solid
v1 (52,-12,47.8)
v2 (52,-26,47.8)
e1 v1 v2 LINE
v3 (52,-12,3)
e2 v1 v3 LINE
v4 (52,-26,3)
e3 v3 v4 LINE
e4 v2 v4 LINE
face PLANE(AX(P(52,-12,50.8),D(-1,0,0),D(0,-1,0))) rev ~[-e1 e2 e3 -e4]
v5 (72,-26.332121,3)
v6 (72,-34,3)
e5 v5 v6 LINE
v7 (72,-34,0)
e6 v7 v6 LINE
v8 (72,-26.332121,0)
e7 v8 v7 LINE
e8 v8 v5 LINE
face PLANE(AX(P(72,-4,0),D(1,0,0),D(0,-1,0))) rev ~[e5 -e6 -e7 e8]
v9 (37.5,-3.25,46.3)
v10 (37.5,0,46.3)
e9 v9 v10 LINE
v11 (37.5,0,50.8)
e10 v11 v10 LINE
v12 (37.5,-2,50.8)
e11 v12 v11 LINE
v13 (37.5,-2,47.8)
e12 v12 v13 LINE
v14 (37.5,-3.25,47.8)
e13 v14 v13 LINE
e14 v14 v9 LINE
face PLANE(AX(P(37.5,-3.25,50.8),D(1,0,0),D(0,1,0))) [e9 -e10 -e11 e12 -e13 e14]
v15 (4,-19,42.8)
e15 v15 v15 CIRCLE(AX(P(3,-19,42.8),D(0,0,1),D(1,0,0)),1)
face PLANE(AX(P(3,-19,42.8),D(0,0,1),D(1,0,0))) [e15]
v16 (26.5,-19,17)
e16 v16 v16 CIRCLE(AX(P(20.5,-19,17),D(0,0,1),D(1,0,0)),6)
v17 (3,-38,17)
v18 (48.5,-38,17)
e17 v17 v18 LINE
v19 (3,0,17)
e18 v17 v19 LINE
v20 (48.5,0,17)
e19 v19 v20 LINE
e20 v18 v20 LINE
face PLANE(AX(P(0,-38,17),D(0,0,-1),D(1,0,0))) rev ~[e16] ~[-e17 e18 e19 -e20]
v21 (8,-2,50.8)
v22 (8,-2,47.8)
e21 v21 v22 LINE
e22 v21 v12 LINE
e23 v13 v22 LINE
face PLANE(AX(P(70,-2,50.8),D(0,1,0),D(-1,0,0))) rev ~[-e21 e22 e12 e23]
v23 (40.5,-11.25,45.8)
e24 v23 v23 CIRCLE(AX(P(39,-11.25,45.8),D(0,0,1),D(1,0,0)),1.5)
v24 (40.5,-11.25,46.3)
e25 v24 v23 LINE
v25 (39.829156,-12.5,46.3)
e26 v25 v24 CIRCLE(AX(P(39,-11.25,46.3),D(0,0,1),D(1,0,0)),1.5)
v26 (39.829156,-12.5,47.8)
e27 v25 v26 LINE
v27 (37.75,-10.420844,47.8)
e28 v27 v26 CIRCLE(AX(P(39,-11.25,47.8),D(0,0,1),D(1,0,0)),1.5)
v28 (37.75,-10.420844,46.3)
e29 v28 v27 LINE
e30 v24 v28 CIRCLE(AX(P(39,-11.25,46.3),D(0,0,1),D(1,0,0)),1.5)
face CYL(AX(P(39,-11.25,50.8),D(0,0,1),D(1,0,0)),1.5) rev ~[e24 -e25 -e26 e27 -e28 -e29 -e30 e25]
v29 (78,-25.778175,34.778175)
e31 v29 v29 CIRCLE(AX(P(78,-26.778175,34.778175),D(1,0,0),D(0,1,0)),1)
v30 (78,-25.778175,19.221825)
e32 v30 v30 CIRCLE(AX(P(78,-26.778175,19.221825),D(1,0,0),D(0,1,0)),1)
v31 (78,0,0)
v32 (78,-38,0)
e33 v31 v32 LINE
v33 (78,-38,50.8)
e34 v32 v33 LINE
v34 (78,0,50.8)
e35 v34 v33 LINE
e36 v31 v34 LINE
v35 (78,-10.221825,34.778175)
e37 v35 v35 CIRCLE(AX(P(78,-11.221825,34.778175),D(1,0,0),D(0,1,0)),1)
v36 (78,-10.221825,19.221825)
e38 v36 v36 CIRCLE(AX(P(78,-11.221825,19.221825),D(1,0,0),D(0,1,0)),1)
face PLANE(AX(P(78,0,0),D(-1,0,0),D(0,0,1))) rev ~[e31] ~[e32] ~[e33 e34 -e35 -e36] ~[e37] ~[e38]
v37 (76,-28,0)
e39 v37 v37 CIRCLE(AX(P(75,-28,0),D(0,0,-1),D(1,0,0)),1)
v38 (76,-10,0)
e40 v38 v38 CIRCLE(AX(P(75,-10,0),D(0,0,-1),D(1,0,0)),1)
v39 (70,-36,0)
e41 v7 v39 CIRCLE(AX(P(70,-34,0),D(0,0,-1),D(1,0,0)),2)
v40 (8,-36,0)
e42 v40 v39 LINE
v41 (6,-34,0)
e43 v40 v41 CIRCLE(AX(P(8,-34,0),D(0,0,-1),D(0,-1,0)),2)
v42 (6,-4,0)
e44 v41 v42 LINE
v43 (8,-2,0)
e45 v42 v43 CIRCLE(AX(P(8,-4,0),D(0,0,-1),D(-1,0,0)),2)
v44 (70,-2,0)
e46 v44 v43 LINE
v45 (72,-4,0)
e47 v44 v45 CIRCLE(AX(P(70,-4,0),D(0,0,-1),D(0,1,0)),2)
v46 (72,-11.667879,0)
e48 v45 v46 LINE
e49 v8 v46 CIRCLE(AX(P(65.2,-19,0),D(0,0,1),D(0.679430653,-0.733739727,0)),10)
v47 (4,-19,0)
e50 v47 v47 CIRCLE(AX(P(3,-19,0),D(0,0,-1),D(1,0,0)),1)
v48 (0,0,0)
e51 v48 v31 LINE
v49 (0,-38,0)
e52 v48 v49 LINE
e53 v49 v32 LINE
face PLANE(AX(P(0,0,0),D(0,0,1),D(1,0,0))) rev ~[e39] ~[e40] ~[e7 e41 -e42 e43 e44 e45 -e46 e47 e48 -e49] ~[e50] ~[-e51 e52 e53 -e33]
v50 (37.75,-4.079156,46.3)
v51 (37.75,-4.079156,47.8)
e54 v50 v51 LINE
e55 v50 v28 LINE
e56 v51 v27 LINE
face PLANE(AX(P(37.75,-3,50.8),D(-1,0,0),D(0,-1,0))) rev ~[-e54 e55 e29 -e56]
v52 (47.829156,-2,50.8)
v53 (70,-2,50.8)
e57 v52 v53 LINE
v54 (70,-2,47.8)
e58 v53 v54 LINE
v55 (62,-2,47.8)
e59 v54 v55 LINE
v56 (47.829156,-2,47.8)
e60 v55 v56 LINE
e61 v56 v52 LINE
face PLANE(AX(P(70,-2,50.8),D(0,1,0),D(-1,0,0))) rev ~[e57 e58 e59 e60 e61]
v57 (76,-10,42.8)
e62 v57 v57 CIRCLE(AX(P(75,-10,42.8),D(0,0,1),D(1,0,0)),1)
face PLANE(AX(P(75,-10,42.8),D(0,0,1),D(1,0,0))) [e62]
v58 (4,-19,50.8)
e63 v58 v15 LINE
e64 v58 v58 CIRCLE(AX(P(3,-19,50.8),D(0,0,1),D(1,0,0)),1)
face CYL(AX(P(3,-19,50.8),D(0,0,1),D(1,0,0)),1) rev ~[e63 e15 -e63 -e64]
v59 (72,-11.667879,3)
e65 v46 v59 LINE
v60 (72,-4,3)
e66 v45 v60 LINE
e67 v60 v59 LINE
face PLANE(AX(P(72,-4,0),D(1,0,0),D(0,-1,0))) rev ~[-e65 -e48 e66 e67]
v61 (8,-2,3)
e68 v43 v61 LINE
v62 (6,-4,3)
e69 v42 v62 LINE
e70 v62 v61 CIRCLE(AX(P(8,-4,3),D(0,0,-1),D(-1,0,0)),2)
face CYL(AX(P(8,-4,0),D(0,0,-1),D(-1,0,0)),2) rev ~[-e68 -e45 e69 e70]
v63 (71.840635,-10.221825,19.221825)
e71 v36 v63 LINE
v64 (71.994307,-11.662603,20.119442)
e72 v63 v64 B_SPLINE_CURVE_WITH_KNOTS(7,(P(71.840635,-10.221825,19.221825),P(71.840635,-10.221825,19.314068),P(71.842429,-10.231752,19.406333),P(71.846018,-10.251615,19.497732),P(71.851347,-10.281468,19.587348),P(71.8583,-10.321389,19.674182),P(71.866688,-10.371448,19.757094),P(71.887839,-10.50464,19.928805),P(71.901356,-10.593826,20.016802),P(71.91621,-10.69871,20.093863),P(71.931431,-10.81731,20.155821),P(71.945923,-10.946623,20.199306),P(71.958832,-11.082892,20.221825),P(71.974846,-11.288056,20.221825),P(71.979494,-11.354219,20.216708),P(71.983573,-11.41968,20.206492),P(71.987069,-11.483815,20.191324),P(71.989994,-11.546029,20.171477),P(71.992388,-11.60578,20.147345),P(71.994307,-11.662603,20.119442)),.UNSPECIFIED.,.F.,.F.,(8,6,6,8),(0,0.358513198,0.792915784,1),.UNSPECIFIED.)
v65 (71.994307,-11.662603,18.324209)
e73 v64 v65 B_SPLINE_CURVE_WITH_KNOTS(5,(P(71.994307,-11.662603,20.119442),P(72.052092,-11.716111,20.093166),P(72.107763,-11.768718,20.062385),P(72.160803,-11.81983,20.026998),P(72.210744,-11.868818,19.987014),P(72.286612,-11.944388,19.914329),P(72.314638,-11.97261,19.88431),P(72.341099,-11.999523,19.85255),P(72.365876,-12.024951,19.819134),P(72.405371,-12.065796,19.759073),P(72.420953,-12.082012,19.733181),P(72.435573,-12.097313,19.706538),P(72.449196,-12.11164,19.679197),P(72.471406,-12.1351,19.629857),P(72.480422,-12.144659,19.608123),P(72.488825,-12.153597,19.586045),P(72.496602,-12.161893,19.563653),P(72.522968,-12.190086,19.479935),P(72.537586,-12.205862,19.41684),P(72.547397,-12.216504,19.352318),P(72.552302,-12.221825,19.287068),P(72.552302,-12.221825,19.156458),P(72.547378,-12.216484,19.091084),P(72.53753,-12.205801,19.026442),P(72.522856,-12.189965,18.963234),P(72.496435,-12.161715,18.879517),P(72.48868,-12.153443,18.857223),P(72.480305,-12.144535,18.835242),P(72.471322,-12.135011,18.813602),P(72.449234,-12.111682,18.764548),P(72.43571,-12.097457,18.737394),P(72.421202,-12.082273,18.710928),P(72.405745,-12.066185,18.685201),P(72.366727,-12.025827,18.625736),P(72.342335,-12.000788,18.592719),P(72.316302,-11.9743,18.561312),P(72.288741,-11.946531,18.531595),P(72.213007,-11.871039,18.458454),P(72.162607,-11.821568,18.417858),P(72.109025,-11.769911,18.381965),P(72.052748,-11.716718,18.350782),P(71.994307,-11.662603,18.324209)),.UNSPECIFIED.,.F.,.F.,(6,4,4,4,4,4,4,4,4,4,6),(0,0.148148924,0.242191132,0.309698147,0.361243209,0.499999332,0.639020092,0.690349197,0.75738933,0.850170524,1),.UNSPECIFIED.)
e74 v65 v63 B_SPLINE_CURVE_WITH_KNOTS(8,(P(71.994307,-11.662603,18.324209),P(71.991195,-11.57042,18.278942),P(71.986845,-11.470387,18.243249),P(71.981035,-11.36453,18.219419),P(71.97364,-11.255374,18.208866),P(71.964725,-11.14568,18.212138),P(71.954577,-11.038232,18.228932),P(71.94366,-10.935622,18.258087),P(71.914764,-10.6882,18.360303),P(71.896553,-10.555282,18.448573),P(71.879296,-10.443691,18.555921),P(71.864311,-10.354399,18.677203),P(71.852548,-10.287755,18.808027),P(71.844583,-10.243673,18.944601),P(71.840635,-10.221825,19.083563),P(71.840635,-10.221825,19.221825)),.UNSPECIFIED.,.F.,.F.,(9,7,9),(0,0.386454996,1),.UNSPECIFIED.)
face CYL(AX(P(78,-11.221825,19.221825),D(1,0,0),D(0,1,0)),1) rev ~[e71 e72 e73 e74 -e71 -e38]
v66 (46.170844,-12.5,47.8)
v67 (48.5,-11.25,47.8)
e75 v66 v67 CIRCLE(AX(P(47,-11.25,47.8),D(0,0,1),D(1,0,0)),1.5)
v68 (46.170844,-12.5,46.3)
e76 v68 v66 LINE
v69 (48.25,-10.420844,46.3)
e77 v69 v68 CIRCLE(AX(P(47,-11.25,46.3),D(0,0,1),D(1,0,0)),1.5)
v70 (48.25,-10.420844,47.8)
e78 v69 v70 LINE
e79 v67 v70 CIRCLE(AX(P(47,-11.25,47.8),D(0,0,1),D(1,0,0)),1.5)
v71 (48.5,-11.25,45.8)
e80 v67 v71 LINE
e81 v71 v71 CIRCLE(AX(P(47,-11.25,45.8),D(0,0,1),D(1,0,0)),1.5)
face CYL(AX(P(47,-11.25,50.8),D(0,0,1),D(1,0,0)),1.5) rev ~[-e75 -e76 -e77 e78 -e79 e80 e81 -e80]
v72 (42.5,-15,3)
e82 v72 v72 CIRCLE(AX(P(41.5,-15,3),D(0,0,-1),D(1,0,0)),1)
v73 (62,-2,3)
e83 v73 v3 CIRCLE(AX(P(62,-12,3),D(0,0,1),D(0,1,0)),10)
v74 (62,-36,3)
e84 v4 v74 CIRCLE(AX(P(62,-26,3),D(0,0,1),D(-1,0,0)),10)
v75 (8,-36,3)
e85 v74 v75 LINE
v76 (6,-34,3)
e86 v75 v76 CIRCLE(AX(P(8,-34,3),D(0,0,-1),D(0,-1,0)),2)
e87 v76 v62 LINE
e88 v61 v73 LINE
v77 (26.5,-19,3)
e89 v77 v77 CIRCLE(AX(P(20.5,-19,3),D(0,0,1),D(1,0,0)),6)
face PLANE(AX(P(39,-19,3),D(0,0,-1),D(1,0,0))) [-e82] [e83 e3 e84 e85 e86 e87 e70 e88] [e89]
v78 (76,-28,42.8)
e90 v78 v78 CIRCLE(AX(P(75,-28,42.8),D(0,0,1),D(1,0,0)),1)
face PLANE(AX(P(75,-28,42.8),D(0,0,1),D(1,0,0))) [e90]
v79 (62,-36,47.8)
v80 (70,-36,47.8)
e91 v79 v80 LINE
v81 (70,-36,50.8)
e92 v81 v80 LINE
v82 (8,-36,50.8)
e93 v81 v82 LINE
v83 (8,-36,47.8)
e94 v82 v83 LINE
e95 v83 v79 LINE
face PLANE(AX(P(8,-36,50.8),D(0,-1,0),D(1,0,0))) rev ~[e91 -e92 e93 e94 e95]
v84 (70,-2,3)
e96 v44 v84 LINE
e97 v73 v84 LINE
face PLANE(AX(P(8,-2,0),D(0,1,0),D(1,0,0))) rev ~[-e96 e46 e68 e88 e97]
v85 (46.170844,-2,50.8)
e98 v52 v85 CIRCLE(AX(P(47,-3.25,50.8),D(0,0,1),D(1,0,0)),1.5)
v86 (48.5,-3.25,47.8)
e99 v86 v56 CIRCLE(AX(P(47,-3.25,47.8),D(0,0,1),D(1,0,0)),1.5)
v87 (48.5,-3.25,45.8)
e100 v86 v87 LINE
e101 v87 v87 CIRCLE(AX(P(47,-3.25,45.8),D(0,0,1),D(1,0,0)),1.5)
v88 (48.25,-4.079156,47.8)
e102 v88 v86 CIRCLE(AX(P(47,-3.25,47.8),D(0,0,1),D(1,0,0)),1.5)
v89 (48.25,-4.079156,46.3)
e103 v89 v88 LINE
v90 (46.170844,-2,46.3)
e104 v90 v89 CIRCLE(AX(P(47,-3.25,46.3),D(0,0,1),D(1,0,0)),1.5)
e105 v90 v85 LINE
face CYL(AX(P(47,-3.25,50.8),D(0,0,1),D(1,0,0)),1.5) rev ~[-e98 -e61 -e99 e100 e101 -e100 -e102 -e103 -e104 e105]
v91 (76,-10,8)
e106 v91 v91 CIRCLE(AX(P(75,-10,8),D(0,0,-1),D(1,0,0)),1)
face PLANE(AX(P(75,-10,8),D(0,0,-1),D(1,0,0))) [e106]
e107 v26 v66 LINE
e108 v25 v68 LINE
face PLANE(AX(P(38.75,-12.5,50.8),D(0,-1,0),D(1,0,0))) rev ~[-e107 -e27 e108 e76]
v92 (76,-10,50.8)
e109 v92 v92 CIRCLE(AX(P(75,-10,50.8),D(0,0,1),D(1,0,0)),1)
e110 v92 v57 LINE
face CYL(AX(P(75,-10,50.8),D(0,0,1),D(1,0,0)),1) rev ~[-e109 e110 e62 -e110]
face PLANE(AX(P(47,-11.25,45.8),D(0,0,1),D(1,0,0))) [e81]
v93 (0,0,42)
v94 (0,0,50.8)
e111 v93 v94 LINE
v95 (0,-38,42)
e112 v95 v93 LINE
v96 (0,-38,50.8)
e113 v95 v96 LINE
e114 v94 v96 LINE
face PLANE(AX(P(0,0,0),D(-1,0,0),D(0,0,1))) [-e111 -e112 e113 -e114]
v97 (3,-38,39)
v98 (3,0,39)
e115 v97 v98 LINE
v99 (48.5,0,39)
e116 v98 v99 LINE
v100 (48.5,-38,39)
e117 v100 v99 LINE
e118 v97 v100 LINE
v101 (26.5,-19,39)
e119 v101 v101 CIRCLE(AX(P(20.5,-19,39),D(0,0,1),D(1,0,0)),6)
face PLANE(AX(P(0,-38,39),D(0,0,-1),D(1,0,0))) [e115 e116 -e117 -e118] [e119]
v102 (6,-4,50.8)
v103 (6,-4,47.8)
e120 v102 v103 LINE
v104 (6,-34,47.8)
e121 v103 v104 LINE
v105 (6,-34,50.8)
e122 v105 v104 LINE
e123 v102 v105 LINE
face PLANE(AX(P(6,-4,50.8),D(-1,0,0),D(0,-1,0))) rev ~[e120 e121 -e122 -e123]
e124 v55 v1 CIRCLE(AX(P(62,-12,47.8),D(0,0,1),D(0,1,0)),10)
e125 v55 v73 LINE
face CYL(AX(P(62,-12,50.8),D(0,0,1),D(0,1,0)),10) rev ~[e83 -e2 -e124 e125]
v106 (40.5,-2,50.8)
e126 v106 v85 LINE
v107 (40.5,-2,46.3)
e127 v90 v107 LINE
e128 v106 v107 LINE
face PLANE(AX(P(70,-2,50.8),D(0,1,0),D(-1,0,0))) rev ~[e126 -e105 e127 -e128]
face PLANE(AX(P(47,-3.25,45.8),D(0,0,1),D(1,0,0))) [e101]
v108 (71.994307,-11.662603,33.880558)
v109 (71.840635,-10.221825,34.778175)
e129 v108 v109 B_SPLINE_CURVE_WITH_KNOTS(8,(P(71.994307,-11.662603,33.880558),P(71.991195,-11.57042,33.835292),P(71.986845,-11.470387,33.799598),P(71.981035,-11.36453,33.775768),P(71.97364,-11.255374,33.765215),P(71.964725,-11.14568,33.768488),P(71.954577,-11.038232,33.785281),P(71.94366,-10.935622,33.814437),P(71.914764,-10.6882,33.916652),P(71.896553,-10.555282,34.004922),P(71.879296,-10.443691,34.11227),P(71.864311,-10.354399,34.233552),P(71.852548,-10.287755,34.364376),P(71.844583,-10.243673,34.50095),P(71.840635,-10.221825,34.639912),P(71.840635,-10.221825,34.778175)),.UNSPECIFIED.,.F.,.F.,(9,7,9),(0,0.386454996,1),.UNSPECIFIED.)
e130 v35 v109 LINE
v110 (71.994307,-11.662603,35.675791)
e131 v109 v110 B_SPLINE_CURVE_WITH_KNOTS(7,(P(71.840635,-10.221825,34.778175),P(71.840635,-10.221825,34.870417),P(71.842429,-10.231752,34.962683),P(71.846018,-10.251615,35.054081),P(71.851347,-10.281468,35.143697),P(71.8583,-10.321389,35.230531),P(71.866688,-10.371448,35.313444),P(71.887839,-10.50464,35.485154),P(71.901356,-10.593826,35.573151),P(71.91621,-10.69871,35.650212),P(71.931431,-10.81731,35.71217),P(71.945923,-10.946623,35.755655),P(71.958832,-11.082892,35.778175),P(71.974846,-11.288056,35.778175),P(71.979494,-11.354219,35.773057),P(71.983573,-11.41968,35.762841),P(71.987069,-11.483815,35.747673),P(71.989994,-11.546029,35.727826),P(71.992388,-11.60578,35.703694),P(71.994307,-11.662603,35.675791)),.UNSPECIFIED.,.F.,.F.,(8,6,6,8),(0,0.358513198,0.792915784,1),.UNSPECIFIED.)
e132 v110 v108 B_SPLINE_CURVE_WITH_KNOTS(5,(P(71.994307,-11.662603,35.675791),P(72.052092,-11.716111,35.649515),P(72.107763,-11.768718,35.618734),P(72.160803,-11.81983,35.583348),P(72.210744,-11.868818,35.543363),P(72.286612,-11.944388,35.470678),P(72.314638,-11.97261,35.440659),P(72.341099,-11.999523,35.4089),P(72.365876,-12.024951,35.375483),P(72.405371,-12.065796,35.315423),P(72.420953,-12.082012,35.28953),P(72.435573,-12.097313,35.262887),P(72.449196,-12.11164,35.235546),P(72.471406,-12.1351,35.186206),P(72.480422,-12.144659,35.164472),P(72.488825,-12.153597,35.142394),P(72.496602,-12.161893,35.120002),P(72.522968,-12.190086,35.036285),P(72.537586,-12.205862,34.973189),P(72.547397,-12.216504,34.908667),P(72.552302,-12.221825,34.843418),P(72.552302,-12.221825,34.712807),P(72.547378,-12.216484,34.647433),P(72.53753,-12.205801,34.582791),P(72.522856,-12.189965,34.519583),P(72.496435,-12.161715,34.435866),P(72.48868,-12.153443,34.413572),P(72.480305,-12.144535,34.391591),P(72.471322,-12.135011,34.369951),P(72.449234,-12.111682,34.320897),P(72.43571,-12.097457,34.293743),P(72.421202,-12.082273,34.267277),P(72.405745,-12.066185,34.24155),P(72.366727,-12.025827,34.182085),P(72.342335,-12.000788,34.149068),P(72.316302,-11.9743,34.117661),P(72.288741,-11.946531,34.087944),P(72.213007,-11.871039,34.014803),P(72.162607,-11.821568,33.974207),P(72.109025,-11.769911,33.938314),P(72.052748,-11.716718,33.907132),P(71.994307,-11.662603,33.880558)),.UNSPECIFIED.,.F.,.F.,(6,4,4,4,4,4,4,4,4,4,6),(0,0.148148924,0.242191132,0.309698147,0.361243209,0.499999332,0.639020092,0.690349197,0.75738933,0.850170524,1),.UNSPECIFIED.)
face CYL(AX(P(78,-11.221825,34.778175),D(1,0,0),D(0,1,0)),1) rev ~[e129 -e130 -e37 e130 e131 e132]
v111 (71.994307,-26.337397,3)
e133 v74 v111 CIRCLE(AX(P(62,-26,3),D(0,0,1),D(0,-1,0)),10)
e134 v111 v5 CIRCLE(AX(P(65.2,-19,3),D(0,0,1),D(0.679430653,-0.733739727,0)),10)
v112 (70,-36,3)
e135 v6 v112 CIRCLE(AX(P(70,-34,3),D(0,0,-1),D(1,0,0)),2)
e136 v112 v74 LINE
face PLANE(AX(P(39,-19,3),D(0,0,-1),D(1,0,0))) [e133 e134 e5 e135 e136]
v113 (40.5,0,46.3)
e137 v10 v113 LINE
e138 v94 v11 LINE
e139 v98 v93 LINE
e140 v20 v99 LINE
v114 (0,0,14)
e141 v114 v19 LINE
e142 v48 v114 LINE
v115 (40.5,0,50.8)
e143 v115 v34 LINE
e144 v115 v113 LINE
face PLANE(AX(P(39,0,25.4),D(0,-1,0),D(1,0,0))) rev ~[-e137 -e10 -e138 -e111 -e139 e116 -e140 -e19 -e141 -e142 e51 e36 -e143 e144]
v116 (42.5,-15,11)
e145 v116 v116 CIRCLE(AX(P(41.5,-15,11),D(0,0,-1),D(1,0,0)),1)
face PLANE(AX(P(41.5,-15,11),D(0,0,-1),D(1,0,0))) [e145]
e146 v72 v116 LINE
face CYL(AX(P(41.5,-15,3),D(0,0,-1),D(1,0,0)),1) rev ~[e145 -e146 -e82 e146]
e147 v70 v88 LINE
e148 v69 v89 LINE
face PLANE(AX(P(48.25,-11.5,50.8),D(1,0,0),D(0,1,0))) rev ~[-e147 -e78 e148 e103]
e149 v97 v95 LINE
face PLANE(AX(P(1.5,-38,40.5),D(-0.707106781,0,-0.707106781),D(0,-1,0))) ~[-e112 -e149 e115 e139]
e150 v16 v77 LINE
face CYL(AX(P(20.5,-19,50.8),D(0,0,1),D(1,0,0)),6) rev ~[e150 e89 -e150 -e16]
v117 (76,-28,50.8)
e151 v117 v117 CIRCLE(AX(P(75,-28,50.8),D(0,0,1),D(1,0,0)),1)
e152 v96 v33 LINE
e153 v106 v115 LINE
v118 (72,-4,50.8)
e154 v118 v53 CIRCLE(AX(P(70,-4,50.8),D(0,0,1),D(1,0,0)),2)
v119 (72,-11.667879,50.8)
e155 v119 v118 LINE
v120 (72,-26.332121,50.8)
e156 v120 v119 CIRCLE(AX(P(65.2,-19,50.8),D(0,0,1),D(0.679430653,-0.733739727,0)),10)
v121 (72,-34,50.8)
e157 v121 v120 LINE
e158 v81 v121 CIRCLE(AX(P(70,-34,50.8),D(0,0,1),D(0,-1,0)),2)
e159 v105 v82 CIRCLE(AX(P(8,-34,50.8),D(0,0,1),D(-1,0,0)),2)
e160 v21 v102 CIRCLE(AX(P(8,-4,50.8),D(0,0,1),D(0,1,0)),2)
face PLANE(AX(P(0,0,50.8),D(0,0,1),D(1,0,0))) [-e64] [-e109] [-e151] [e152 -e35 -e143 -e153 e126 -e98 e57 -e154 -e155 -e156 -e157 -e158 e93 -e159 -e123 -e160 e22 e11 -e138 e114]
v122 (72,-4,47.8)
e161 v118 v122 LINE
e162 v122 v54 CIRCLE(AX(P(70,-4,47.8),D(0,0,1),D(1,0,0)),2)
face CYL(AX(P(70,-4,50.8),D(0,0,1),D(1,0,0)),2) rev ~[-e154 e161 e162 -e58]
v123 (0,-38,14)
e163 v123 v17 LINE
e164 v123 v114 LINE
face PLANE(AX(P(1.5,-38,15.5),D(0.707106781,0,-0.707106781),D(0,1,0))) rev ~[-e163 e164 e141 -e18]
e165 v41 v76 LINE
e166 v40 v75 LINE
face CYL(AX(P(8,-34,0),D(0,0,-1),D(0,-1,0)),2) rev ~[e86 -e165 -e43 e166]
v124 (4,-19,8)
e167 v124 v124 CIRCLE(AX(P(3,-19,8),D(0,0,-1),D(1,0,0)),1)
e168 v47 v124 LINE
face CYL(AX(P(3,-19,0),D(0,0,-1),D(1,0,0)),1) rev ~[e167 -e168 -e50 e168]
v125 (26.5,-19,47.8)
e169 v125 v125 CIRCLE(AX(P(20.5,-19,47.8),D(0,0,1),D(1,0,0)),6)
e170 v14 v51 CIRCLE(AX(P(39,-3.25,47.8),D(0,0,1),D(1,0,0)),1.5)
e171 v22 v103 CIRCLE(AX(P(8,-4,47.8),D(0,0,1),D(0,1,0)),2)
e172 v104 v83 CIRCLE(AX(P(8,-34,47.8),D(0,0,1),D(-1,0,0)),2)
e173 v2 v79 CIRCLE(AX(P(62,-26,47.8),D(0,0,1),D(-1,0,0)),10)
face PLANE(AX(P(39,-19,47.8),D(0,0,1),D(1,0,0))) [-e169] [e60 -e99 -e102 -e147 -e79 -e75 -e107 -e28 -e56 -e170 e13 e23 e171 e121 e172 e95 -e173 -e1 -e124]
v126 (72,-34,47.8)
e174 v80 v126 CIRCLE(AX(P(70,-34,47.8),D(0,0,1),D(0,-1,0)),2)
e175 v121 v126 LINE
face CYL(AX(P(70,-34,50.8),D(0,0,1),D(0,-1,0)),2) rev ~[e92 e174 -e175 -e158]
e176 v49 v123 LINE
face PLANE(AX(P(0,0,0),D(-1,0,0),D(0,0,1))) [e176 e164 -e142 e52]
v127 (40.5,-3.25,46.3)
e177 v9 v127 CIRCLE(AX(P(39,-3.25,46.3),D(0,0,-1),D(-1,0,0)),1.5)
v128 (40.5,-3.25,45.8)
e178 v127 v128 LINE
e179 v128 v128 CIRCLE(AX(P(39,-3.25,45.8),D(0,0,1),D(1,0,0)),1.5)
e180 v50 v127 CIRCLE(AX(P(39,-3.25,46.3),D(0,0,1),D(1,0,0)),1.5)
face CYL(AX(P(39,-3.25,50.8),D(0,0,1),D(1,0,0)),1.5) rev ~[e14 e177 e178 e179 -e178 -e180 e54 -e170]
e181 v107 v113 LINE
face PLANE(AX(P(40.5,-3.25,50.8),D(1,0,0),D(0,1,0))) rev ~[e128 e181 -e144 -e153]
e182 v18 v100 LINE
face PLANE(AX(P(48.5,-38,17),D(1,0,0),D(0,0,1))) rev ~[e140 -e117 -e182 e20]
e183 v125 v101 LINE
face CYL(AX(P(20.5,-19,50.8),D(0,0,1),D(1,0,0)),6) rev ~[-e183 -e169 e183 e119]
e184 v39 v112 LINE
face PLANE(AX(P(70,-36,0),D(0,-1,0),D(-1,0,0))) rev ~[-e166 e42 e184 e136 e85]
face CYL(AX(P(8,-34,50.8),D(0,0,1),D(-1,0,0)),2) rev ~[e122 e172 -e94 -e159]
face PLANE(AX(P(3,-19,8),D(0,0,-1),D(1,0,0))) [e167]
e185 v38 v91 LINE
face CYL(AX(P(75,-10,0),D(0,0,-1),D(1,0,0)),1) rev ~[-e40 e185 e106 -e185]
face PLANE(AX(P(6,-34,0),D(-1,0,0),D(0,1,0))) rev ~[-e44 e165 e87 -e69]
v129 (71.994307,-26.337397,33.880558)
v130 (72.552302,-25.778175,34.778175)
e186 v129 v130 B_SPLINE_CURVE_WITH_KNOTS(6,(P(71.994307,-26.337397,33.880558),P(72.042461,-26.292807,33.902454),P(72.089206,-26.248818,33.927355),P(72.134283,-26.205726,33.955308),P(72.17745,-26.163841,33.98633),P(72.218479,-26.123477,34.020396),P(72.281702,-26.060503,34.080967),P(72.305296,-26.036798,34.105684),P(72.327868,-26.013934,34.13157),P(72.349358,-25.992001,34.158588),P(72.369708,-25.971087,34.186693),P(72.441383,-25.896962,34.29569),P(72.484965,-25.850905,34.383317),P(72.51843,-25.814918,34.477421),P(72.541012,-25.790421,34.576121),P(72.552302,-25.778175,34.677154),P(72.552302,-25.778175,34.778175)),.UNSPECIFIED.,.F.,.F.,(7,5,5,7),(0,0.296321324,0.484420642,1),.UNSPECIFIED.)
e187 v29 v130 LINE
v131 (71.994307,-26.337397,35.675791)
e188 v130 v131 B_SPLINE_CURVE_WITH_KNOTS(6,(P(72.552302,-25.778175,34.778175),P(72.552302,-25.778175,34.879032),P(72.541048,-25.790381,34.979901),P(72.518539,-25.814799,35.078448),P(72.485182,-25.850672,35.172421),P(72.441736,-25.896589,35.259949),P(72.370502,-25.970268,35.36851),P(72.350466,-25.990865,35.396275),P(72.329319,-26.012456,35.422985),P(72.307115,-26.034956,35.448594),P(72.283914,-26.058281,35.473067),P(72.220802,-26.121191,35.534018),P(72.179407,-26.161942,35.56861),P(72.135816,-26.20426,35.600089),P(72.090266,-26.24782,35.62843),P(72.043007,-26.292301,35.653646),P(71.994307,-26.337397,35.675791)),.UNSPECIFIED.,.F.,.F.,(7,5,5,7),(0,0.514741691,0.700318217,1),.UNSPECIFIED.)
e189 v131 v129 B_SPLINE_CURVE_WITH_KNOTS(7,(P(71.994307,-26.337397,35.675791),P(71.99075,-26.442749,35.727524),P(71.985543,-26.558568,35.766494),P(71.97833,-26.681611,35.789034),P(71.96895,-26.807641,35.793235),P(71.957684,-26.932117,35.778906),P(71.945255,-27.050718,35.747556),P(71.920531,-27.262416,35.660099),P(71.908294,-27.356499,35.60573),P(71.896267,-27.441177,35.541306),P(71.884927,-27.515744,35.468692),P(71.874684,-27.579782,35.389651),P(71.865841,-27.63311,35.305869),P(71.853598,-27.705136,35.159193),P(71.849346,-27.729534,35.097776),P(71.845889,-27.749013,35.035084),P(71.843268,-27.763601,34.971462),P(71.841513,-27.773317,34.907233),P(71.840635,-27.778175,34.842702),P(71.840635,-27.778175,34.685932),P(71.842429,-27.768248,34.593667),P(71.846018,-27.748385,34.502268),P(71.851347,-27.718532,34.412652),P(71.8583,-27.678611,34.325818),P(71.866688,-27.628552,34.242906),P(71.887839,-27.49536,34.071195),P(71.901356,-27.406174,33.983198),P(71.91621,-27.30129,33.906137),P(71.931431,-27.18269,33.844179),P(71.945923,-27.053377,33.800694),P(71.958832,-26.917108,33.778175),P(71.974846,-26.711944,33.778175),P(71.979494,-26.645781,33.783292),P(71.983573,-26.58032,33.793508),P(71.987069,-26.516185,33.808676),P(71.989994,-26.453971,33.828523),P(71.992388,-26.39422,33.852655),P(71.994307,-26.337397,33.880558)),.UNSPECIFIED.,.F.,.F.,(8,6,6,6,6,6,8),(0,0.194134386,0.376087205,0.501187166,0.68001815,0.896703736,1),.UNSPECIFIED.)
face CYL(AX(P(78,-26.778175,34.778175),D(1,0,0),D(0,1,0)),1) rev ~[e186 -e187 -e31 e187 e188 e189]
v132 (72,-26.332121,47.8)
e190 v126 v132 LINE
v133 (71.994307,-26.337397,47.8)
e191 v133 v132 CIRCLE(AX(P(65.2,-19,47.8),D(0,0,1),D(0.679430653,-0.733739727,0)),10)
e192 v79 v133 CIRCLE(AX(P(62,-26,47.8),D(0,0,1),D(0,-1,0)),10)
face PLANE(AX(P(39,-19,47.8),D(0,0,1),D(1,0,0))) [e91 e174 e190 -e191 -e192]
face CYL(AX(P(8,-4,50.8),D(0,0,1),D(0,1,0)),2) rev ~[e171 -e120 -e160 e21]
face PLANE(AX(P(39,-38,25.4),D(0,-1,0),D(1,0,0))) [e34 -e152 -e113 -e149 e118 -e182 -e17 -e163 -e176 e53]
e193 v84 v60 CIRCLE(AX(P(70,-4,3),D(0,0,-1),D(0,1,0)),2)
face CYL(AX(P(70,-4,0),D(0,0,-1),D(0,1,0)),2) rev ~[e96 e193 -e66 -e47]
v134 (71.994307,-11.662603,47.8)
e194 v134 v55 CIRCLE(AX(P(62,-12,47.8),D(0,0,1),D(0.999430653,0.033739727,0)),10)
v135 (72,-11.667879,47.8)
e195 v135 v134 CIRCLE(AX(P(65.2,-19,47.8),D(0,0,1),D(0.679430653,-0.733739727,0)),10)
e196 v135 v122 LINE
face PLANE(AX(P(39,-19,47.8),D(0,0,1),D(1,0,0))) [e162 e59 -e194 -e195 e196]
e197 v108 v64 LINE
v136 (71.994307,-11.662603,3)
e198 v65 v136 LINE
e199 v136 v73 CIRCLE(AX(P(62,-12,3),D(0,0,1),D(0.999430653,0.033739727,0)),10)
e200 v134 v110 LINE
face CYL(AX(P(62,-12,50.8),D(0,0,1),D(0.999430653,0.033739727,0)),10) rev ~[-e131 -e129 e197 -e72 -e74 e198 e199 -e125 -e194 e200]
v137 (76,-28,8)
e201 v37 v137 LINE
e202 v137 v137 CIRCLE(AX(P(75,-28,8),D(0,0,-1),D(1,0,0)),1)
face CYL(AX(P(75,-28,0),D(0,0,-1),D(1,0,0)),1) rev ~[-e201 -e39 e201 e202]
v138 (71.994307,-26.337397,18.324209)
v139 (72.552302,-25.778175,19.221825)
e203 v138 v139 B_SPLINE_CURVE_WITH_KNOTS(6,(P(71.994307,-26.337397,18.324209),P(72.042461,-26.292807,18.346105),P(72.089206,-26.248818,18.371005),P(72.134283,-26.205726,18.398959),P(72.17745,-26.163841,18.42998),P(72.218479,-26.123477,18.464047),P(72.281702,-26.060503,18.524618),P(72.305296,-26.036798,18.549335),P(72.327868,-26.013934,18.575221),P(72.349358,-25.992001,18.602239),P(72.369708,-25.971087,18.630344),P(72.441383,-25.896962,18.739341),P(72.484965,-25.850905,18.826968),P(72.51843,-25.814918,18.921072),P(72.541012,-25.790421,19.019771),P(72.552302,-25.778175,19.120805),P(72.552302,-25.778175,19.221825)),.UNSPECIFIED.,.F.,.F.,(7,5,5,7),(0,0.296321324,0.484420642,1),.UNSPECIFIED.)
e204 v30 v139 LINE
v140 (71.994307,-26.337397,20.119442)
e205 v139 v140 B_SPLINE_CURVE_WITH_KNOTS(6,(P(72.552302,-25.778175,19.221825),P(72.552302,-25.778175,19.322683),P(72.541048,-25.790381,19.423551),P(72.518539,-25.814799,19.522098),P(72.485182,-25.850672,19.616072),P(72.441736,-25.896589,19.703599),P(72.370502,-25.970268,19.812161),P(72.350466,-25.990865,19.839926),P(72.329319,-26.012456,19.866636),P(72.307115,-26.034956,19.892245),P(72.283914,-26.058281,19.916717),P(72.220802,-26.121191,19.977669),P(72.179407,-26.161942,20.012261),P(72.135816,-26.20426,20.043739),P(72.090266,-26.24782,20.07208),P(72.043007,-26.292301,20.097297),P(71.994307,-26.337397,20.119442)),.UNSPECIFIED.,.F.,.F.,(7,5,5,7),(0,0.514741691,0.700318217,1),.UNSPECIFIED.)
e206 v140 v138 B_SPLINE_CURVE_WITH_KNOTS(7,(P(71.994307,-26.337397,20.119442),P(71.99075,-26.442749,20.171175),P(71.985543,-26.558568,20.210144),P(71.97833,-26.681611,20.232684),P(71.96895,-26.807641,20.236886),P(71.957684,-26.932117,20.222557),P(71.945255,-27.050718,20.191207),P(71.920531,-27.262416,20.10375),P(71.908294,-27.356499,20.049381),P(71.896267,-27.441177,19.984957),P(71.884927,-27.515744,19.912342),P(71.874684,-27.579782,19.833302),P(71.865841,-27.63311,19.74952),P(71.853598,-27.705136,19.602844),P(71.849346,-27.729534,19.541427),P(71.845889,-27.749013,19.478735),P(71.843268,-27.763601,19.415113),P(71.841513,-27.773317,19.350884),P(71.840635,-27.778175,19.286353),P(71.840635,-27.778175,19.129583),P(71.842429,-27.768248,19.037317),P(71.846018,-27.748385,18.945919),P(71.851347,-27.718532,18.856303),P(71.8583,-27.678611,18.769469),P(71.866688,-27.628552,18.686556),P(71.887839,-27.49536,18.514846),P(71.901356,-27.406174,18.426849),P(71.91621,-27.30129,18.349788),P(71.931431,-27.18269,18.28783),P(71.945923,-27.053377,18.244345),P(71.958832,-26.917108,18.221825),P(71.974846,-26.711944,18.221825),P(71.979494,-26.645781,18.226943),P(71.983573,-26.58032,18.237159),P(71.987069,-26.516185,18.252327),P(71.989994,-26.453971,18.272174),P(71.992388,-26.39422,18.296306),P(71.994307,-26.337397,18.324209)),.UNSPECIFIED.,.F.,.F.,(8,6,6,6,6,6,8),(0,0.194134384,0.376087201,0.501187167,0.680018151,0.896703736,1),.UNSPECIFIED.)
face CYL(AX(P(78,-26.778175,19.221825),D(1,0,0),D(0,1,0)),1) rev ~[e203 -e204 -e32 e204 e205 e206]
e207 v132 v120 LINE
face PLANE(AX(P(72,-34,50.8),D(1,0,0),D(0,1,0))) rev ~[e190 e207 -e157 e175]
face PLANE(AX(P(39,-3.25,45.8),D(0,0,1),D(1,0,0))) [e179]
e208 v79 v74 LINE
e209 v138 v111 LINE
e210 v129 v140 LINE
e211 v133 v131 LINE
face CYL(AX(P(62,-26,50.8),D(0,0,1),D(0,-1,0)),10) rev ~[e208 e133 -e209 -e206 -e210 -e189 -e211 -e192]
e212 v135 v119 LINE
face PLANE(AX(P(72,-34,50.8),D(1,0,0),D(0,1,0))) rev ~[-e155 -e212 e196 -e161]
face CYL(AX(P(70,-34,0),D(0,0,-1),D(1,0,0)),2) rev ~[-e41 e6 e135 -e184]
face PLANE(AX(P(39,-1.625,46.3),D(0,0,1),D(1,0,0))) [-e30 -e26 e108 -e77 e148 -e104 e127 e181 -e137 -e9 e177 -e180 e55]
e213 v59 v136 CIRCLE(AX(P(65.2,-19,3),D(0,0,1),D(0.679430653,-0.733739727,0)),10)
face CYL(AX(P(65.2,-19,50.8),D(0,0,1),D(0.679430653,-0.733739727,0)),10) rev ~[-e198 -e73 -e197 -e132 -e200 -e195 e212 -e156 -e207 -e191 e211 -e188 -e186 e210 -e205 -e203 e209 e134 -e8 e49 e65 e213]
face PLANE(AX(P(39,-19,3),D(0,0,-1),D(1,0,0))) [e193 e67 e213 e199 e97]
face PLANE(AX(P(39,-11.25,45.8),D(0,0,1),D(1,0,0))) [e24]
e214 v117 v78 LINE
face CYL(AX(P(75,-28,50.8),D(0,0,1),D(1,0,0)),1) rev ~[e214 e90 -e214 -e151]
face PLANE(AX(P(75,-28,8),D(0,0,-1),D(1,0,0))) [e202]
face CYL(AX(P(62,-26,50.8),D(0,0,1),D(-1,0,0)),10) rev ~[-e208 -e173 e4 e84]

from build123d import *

# Parameters (mm, degrees)
F0_W      = 78
F0_H      = 50.8
F1_DEPTH  = 38
F3_DEPTH  = 3
F5_DEPTH  = 50.8
F7_DEPTH  = 4.5
F8_R      = 1.5
F9_DEPTH  = 5
F10_W     = 3
F10_H     = 3.25
F11_DEPTH = 4.5
F12_R     = 6
F13_DEPTH = 51
F15_DEPTH = 3
F16_W     = 48.5
F16_H     = 22
F17_DEPTH = 38
F18_SIZE  = 3
F19_R     = 1
F20_DEPTH = 8
F21_R     = 1
F22_DEPTH = 8
F23_R     = 1
F24_DEPTH = 8
F25_R     = 1
F26_DEPTH = 10


with BuildPart() as f1:
    # F0 (on Front) → F1 (new body)
    with BuildSketch(Plane.XZ):
        with Locations((39, 25.4)):
            Rectangle(F0_W, F0_H)
    extrude(amount=F1_DEPTH)

    # F2 (on face) → F3 (cut)
    with BuildSketch(Plane.XY.offset(50.8)):
        with BuildLine():
            Line((70, -2), (8, -2))
            ThreePointArc((8, -2), (6.5857864376, -2.5857864376), (6, -4))
            Line((6, -4), (6, -34))
            ThreePointArc((6, -34), (6.5857864376, -35.4142135624), (8, -36))
            Line((8, -36), (70, -36))
            ThreePointArc((70, -36), (71.4142135624, -35.4142135624), (72, -34))
            Line((72, -34), (72, -4))
            ThreePointArc((72, -4), (71.4142135624, -2.5857864376), (70, -2))
        make_face()
    extrude(amount=-F3_DEPTH, mode=Mode.SUBTRACT)

    # F4 (on face) → F5 (cut, through all)
    with BuildSketch(Plane.XY.offset(50.8)):
        with BuildLine():
            ThreePointArc((62, -2), (54.9289321881, -4.9289321881), (52, -12))
            Line((52, -12), (52, -26))
            ThreePointArc((52, -26), (54.9289321881, -33.0710678119), (62, -36))
            ThreePointArc((62, -36), (68.9507563357, -33.1893662003), (71.9943065333, -26.3373972723))
            ThreePointArc((71.9943065333, -26.3373972723), (75.2, -19), (71.9943065333, -11.6626027277))
            ThreePointArc((71.9943065333, -11.6626027277), (68.9507563357, -4.8106337997), (62, -2))
        make_face()
    extrude(amount=-F5_DEPTH, mode=Mode.SUBTRACT)

    # F6 (on face) → F7 (cut)
    with BuildSketch(Plane.XY.offset(50.8)):
        with BuildLine():
            Line((47.25, -2), (38.75, -2))
            ThreePointArc((38.75, -2), (38.0428932188, -2.2928932188), (37.75, -3))
            Line((37.75, -3), (37.75, -11.5))
            ThreePointArc((37.75, -11.5), (38.0428932188, -12.2071067812), (38.75, -12.5))
            Line((38.75, -12.5), (47.25, -12.5))
            ThreePointArc((47.25, -12.5), (47.9571067812, -12.2071067812), (48.25, -11.5))
            Line((48.25, -11.5), (48.25, -3))
            ThreePointArc((48.25, -3), (47.9571067812, -2.2928932188), (47.25, -2))
        make_face()
    extrude(amount=-F7_DEPTH, mode=Mode.SUBTRACT)

    # F8 (on face) → F9 (cut)
    with BuildSketch(Plane.XY.offset(50.8)):
        with Locations((47, -11.25)):
            Circle(F8_R)
        with Locations((39, -11.25)):
            Circle(F8_R)
        with Locations((39, -3.25)):
            Circle(F8_R)
        with Locations((47, -3.25)):
            Circle(F8_R)
    extrude(amount=-F9_DEPTH, mode=Mode.SUBTRACT)

    # F10 (on face) → F11 (cut)
    with BuildSketch(Plane.XY.offset(50.8)):
        with Locations((39, -1.625)):
            Rectangle(F10_W, F10_H)
    extrude(amount=-F11_DEPTH, mode=Mode.SUBTRACT)

    # F12 (on face) → F13 (cut)
    with BuildSketch(Plane.XY.offset(50.8)):
        with Locations((20.5, -19)):
            Circle(F12_R)
    extrude(amount=-F13_DEPTH, mode=Mode.SUBTRACT)

    # F14 (on face) → F15 (cut)
    with BuildSketch(Plane(origin=(0, 0, 0), x_dir=(1, 0, 0), z_dir=(0, 0, -1))):
        with BuildLine():
            Line((70, 36), (8, 36))
            ThreePointArc((8, 36), (6.5857864376, 35.4142135624), (6, 34))
            Line((6, 34), (6, 4))
            ThreePointArc((6, 4), (6.5857864376, 2.5857864376), (8, 2))
            Line((8, 2), (70, 2))
            ThreePointArc((70, 2), (71.4142135624, 2.5857864376), (72, 4))
            Line((72, 4), (72, 34))
            ThreePointArc((72, 34), (71.4142135624, 35.4142135624), (70, 36))
        make_face()
    extrude(amount=-F15_DEPTH, mode=Mode.SUBTRACT)

    # F16 (on face) → F17 (cut, through all)
    with BuildSketch(Plane.XZ.offset(38)):
        with Locations((24.25, 28)):
            Rectangle(F16_W, F16_H)
    extrude(amount=-F17_DEPTH, mode=Mode.SUBTRACT)

    # F18
    f18_edges = [f1.edges().sort_by_distance(p)[0] for p in [
        (0, -19, 39),
        (0, -19, 17),
    ]]
    chamfer(f18_edges, length=F18_SIZE)

    # F19 (on face) → F20 (cut)
    with BuildSketch(Plane.XY.offset(50.8)):
        with Locations((3, -19)):
            Circle(F19_R)
        with Locations((75, -10)):
            Circle(F19_R)
        with Locations((75, -28)):
            Circle(F19_R)
    extrude(amount=-F20_DEPTH, mode=Mode.SUBTRACT)

    # F21 (on face) → F22 (cut)
    with BuildSketch(Plane(origin=(0, 0, 0), x_dir=(1, 0, 0), z_dir=(0, 0, -1))):
        with Locations((75, 28)):
            Circle(F21_R)
        with Locations((75, 10)):
            Circle(F21_R)
        with Locations((3, 19)):
            Circle(F21_R)
    extrude(amount=-F22_DEPTH, mode=Mode.SUBTRACT)

    # F23 (on face) → F24 (cut)
    with BuildSketch(Plane(origin=(0, 0, 3), x_dir=(1, 0, 0), z_dir=(0, 0, -1))):
        with Locations((41.5, 15)):
            Circle(F23_R)
    extrude(amount=-F24_DEPTH, mode=Mode.SUBTRACT)

    # F25 (on face) → F26 (cut)
    with BuildSketch(Plane.YZ.offset(78)):
        with Locations((-26.7781745931, 34.7781745931)):
            Circle(F25_R)
        with Locations((-11.2218254069, 34.7781745931)):
            Circle(F25_R)
        with Locations((-26.7781745931, 19.2218254069)):
            Circle(F25_R)
        with Locations((-11.2218254069, 19.2218254069)):
            Circle(F25_R)
    extrude(amount=-F26_DEPTH, mode=Mode.SUBTRACT)


solid = f1.part
